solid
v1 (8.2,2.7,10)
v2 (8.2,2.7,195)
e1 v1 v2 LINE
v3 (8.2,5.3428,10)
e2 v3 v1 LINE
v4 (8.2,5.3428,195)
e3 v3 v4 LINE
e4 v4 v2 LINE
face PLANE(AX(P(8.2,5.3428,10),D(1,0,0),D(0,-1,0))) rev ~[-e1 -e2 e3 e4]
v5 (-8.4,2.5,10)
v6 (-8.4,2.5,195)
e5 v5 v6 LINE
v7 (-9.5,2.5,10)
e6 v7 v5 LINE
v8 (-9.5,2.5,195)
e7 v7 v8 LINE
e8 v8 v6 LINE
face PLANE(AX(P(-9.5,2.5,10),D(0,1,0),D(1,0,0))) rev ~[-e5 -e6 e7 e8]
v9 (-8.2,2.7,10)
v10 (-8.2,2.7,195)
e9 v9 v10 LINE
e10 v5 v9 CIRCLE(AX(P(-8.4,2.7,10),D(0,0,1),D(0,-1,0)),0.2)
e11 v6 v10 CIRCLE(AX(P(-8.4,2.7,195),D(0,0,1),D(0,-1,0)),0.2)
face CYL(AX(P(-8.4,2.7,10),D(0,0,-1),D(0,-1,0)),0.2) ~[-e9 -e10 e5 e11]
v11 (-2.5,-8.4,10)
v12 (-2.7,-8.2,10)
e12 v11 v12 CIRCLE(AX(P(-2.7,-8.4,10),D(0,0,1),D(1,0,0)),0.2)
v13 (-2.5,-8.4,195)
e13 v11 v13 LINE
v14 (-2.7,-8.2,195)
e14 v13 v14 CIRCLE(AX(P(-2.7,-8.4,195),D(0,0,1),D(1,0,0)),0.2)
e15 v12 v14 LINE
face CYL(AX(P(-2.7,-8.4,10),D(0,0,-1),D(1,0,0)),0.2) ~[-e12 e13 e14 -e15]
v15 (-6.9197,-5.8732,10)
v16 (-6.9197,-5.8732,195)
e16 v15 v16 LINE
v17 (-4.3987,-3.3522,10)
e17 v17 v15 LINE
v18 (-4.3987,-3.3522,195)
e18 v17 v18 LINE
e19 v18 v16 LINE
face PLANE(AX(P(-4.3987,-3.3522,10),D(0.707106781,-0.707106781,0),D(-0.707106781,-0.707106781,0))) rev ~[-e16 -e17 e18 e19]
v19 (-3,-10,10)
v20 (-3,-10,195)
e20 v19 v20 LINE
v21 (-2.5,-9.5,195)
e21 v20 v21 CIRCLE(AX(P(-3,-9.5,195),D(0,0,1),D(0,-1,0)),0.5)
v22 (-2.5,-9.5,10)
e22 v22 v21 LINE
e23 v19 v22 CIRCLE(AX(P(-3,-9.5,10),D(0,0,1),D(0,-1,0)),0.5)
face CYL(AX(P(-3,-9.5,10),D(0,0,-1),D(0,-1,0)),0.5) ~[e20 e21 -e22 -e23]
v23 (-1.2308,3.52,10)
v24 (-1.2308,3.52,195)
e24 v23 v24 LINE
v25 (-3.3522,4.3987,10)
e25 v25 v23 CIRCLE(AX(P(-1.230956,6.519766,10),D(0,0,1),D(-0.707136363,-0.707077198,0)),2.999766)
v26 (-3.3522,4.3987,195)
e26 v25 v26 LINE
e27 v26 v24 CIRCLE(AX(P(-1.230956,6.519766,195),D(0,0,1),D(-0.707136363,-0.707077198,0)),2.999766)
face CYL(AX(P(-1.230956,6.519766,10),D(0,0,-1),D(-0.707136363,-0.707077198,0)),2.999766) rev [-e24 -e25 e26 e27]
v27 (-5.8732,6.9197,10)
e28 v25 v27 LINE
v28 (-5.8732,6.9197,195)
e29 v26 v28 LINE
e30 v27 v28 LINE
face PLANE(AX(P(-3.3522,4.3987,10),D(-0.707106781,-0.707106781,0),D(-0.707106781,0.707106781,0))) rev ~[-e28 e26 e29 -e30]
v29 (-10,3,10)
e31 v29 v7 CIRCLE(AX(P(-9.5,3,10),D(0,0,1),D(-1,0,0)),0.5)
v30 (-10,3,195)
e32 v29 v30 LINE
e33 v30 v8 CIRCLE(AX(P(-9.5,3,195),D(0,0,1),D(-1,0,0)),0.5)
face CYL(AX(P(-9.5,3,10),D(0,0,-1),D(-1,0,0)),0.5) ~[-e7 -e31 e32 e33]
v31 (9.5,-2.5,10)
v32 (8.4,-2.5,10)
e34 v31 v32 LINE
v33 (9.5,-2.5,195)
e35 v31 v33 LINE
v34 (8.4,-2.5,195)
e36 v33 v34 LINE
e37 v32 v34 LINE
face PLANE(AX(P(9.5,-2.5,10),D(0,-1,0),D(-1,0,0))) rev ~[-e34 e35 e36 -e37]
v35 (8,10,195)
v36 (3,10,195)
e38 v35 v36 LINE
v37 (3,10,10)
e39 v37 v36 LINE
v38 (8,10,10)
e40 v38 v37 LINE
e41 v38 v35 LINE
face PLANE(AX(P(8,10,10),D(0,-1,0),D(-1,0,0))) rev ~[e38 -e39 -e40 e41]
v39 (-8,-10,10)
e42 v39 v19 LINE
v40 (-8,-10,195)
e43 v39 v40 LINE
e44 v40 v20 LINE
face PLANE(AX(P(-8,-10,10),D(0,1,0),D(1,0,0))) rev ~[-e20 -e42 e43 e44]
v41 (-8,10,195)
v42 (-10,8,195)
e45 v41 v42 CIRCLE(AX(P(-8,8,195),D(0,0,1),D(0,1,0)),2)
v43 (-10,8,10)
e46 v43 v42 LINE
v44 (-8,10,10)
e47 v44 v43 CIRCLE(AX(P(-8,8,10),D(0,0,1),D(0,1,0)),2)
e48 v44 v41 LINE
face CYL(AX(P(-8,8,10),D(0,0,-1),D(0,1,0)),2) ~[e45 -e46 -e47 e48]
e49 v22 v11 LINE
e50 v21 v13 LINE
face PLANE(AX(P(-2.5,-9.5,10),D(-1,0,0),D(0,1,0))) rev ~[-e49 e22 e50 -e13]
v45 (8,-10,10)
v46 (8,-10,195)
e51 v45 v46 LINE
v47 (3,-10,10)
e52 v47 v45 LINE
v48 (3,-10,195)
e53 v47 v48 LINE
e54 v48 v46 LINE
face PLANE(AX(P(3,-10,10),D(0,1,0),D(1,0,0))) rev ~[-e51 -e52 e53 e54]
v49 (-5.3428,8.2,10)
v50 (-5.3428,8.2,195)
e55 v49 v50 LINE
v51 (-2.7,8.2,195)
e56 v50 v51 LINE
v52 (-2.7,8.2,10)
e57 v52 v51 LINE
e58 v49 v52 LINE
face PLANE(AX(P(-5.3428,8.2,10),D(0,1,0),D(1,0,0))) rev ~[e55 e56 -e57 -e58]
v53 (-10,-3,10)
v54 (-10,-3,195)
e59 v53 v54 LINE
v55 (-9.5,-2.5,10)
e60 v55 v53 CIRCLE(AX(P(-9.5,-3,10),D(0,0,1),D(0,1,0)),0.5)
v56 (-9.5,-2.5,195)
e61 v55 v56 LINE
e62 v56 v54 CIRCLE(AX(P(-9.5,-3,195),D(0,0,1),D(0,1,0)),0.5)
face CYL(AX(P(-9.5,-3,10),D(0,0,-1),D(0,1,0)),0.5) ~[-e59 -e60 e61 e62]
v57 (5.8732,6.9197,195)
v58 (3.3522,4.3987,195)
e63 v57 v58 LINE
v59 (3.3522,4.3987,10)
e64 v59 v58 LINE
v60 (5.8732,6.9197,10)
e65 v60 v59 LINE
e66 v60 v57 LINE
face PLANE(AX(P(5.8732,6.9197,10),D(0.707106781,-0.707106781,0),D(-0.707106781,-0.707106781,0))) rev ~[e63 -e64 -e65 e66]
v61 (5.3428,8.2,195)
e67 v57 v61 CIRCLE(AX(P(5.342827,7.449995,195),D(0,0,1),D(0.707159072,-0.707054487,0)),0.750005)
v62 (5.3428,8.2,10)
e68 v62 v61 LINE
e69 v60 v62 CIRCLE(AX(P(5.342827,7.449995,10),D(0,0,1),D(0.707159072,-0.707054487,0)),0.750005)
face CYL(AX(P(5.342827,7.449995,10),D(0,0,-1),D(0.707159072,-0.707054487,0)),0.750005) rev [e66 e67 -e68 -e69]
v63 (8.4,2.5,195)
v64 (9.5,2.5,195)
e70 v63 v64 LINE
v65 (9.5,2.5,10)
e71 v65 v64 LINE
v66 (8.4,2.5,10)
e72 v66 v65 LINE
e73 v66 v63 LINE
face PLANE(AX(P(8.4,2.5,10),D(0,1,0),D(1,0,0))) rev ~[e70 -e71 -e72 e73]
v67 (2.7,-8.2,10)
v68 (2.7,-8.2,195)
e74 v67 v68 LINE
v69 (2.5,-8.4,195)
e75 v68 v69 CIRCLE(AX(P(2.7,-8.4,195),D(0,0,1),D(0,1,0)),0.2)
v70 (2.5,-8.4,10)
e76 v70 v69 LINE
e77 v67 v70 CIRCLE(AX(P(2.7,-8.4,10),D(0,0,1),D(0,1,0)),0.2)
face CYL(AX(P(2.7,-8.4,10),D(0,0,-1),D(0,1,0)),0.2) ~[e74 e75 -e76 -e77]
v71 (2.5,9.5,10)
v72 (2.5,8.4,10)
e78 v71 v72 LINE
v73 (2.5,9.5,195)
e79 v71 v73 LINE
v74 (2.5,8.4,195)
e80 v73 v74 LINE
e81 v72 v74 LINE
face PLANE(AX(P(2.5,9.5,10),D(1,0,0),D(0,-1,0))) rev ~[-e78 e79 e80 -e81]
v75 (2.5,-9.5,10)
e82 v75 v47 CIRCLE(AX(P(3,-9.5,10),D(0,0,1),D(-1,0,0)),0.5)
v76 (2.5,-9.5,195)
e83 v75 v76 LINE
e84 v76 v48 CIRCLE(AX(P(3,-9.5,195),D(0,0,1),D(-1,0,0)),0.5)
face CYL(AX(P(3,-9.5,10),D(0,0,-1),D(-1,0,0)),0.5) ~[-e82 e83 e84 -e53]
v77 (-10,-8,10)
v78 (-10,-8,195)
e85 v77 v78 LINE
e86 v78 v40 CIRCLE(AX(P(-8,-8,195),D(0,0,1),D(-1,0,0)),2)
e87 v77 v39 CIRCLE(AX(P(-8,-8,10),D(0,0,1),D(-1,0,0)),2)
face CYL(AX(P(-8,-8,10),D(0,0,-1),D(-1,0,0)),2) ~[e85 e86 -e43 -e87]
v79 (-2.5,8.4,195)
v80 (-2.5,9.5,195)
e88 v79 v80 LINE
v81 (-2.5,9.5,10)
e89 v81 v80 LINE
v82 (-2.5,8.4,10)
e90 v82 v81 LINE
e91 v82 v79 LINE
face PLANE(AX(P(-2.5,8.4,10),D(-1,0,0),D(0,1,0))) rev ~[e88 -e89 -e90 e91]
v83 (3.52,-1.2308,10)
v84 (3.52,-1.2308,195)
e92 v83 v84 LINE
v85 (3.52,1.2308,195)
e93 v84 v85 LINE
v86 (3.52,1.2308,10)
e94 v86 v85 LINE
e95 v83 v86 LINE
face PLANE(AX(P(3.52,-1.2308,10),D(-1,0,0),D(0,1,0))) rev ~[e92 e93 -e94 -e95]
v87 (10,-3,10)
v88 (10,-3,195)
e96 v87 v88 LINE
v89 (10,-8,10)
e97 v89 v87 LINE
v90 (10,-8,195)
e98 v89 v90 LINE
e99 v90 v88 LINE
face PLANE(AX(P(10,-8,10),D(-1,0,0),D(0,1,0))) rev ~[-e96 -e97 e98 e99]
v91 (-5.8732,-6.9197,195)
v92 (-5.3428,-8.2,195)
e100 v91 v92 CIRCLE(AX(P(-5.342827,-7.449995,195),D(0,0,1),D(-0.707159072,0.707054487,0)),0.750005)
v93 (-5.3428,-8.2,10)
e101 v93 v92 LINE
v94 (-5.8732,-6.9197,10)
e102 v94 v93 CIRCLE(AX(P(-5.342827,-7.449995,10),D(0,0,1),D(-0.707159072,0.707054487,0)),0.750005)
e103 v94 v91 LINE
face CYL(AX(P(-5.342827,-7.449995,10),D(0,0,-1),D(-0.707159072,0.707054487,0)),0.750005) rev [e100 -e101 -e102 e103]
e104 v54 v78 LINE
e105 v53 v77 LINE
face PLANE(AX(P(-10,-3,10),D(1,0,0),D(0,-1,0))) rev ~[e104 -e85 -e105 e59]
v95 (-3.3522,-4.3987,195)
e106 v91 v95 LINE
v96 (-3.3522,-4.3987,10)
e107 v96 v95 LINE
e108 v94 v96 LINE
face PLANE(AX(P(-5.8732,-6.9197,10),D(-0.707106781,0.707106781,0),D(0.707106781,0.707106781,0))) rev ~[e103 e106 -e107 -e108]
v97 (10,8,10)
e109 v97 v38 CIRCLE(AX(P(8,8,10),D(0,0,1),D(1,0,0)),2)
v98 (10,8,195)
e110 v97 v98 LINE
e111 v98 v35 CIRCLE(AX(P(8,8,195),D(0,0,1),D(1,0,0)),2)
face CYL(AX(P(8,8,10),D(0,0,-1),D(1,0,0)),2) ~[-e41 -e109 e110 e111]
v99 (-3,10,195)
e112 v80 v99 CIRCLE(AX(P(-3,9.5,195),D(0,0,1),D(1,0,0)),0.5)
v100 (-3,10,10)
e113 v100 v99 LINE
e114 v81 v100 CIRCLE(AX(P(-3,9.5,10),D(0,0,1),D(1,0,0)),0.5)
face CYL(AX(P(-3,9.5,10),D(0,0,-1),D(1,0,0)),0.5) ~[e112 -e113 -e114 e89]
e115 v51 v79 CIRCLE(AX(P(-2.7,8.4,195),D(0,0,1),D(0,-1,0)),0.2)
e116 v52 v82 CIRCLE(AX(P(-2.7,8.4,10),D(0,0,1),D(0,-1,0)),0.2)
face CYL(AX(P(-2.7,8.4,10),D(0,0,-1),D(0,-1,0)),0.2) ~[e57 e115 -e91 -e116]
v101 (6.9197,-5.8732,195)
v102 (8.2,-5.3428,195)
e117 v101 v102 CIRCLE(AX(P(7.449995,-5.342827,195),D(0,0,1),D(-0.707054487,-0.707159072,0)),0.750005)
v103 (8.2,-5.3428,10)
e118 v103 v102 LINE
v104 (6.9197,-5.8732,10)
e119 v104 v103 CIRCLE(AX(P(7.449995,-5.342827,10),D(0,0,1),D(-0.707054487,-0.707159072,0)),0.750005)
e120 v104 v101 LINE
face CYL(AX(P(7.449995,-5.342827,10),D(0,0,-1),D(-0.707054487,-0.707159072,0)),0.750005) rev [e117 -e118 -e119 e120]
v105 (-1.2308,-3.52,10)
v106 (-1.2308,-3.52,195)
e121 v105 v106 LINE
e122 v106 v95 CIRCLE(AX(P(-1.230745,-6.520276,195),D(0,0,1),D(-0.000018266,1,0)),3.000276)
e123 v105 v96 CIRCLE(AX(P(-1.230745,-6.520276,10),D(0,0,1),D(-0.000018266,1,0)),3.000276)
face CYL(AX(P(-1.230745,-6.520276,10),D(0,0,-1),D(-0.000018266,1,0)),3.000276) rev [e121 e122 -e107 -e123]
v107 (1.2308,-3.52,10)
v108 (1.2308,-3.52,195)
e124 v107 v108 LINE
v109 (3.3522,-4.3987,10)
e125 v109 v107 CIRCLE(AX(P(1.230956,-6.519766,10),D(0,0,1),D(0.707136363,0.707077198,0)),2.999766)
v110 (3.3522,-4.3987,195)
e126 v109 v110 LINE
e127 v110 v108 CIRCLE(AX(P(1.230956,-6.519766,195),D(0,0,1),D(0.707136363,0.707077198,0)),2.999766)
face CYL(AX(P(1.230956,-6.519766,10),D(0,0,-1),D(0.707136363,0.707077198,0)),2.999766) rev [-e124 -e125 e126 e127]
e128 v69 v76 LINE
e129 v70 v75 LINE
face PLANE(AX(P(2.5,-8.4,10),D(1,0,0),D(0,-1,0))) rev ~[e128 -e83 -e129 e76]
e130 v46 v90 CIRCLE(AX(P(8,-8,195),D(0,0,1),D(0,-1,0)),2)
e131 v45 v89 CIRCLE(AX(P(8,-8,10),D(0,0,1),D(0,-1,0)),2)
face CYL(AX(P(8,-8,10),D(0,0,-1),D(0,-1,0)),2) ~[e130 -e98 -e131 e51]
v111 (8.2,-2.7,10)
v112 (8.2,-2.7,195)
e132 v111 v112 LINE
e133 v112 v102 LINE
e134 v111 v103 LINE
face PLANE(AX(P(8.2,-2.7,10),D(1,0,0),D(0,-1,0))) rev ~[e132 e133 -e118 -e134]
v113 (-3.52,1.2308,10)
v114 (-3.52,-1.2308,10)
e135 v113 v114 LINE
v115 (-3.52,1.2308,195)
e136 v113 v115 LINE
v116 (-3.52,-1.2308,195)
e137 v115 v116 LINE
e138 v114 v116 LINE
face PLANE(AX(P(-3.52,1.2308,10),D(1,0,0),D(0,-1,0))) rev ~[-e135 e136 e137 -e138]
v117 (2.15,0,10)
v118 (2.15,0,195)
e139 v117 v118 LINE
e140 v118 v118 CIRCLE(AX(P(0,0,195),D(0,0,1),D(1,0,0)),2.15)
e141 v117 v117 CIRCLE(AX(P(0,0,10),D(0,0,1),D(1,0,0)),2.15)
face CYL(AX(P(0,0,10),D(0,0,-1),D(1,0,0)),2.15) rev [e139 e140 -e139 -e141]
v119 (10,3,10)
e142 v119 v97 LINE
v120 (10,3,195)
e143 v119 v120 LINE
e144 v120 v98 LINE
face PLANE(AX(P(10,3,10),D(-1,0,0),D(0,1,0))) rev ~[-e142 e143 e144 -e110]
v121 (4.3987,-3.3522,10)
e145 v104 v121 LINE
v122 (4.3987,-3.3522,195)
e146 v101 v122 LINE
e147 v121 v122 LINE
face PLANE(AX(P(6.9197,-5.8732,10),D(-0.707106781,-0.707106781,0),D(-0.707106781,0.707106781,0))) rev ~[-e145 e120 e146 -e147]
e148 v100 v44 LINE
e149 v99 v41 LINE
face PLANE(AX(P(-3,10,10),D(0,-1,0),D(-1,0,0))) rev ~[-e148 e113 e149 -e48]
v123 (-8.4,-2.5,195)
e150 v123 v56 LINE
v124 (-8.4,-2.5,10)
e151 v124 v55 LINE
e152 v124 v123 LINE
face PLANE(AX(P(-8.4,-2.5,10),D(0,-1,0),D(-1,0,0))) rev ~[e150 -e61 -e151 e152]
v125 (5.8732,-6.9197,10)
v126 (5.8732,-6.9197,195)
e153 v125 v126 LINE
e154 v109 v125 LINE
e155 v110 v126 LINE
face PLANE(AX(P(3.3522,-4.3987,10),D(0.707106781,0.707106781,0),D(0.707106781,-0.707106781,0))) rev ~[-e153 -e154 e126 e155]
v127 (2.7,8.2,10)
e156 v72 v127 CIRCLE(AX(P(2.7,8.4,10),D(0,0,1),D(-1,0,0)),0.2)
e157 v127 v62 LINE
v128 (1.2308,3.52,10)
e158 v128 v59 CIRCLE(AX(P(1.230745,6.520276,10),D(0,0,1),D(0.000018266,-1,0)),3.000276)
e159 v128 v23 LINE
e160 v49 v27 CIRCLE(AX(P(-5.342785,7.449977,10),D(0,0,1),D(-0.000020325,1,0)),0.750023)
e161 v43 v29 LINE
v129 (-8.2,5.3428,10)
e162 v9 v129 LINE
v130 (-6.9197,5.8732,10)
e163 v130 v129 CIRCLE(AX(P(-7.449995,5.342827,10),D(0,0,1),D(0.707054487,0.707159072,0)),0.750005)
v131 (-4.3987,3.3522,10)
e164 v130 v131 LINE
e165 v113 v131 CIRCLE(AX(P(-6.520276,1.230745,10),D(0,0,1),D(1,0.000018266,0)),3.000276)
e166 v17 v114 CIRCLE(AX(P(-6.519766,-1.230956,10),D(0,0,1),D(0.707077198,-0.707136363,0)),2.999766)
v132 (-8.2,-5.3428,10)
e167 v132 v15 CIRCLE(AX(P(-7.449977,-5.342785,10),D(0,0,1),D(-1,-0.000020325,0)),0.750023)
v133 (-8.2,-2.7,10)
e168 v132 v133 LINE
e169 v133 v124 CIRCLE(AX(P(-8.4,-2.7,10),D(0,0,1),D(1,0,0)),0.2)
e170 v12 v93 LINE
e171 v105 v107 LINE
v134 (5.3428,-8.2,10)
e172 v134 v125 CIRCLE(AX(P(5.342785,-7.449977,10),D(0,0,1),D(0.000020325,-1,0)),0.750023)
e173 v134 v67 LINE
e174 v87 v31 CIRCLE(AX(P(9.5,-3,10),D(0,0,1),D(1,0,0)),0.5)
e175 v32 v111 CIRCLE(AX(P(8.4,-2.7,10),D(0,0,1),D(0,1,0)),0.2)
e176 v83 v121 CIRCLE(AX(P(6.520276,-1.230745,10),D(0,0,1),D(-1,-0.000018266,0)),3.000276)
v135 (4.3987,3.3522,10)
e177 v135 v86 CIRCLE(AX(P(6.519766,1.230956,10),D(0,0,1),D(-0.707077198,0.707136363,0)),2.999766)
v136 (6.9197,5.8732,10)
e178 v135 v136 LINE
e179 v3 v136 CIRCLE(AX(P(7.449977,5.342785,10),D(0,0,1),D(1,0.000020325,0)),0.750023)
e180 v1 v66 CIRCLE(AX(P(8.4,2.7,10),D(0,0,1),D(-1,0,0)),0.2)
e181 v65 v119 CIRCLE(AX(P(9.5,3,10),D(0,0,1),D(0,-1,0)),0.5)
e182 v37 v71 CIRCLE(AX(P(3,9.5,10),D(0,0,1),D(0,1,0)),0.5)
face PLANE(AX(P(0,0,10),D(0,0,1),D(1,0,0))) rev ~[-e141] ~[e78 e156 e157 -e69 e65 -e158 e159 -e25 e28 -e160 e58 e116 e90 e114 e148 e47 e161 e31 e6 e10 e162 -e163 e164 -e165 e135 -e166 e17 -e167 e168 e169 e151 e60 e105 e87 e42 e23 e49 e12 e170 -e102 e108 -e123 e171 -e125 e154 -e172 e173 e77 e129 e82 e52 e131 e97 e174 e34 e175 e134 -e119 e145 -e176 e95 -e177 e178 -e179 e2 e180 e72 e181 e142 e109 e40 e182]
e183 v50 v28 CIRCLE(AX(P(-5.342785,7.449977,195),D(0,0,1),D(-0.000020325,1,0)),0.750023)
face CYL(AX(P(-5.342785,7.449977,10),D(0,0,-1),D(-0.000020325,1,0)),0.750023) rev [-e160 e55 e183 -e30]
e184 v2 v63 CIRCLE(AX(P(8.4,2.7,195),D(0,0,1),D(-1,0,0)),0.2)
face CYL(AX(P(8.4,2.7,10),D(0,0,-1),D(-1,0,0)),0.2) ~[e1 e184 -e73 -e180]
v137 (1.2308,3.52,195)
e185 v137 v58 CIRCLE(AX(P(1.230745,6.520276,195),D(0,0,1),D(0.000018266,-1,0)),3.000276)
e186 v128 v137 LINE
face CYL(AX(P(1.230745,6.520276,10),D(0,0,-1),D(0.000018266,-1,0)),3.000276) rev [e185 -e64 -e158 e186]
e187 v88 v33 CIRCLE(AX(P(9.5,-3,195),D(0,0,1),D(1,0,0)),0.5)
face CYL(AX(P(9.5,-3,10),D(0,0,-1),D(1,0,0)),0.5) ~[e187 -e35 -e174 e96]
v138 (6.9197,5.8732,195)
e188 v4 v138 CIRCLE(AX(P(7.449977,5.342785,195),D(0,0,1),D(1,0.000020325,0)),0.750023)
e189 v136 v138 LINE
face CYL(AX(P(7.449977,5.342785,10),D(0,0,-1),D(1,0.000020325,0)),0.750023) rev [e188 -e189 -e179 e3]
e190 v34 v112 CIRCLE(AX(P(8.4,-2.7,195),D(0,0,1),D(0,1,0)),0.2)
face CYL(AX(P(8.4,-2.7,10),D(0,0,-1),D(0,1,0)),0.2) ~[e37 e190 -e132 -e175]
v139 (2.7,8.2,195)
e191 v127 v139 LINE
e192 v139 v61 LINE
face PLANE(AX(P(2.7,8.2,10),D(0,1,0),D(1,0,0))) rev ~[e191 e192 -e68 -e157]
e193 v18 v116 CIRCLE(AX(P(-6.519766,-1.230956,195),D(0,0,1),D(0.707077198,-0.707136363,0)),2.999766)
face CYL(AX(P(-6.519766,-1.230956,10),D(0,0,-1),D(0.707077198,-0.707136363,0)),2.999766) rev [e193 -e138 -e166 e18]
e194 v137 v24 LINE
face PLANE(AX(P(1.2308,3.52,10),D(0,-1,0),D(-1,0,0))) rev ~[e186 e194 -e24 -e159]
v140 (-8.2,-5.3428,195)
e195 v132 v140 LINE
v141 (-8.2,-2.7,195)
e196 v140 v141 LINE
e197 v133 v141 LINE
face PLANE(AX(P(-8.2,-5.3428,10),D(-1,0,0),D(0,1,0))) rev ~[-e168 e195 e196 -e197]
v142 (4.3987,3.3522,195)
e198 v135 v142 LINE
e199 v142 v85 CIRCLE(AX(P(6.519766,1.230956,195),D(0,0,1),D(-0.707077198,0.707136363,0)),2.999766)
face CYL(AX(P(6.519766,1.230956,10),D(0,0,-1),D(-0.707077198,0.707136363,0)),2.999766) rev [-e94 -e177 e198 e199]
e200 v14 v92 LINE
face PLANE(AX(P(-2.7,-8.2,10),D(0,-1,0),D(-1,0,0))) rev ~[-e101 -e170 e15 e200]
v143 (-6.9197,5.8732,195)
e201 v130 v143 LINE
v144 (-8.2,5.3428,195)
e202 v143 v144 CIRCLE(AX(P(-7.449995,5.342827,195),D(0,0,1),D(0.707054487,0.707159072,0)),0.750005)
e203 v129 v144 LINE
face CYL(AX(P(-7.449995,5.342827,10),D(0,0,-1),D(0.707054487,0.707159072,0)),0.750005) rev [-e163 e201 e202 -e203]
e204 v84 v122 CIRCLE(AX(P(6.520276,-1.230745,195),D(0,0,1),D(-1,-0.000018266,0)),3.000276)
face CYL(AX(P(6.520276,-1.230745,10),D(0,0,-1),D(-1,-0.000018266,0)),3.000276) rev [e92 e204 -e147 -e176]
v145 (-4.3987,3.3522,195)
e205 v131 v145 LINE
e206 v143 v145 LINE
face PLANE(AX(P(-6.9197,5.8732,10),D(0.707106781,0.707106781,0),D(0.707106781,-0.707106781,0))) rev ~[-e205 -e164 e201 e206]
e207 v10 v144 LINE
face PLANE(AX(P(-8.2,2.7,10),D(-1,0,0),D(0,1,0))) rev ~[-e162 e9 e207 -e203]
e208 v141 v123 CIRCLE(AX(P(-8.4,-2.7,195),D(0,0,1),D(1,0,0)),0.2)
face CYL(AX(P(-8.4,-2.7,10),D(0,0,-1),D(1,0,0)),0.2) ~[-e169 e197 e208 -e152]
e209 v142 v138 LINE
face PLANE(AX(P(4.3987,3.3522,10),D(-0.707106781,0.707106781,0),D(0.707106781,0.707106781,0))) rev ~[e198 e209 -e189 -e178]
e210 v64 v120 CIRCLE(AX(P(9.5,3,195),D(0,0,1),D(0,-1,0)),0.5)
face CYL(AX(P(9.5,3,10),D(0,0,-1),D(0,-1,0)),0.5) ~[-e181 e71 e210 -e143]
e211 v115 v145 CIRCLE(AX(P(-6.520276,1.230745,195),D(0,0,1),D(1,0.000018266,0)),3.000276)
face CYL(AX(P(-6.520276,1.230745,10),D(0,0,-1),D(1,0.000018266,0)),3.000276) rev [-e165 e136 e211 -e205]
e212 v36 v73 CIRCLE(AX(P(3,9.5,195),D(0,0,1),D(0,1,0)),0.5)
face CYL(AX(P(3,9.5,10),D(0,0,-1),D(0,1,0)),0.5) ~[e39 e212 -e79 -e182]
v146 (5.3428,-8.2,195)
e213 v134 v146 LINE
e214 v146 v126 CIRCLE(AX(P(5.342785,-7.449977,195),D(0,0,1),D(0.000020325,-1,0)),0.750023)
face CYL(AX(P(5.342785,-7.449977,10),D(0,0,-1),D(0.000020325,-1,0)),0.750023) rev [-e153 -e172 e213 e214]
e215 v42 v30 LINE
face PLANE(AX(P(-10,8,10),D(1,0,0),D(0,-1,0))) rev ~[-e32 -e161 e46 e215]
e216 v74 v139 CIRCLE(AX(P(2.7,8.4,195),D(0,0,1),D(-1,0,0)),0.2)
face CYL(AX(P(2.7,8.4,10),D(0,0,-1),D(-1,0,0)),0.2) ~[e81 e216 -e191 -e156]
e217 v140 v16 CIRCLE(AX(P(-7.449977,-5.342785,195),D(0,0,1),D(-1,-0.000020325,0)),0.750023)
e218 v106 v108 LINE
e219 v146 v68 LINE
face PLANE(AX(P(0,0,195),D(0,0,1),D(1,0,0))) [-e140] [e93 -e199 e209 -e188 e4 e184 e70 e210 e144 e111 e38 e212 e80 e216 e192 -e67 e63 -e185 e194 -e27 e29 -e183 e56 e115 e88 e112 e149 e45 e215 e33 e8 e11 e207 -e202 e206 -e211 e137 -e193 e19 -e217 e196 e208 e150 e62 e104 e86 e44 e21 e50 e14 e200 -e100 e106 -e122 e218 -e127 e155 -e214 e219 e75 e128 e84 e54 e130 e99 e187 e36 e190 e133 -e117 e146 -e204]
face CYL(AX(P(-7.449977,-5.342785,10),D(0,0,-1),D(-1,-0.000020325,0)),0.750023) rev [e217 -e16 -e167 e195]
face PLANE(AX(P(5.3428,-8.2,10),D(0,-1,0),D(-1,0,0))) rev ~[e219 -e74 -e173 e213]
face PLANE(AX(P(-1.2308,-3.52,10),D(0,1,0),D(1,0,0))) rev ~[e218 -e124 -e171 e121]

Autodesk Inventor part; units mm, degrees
ref_plane "Płaszczyzna początkowa" through (0, 0, 10) normal (0, 0, 1) x (1, 0, 0)
ref_plane "Płaszczyzna końcowa" through (0, 0, 195) normal (0, 0, 1) x (1, 0, 0)
sketch "Szkic" plane through (0, 0, 0) normal (0, 0, 1) x (1, 0, 0)
  arc A0 (8, -10) -> (10, -8) centre (8, -8) ccw
  line L0 (10, -8) -> (10, -3)
  arc A1 (10, -3) -> (9.5, -2.5) centre (9.5, -3) ccw
  line L1 (9.5, -2.5) -> (8.4, -2.5)
  arc A2 (8.4, -2.5) -> (8.2, -2.7) centre (8.4, -2.7) ccw
  line L2 (8.2, -2.7) -> (8.2, -5.3428)
  arc A3 (6.9197, -5.8732) -> (8.2, -5.3428) centre (7.45, -5.3428) ccw
  line L3 (6.9197, -5.8732) -> (4.3987, -3.3522)
  arc A4 (3.52, -1.2308) -> (4.3987, -3.3522) centre (6.52, -1.2308) ccw
  line L4 (3.52, -1.2308) -> (3.52, 1.2308)
  arc A5 (4.3987, 3.3522) -> (3.52, 1.2308) centre (6.52, 1.2308) ccw
  line L5 (4.3987, 3.3522) -> (6.9197, 5.8732)
  arc A6 (8.2, 5.3428) -> (6.9197, 5.8732) centre (7.45, 5.3428) ccw
  line L6 (8.2, 5.3428) -> (8.2, 2.7)
  arc A7 (8.2, 2.7) -> (8.4, 2.5) centre (8.4, 2.7) ccw
  line L7 (8.4, 2.5) -> (9.5, 2.5)
  arc A8 (9.5, 2.5) -> (10, 3) centre (9.5, 3) ccw
  line L8 (10, 3) -> (10, 8)
  arc A9 (10, 8) -> (8, 10) centre (8, 8) ccw
  line L9 (8, 10) -> (3, 10)
  arc A10 (3, 10) -> (2.5, 9.5) centre (3, 9.5) ccw
  line L10 (2.5, 9.5) -> (2.5, 8.4)
  arc A11 (2.5, 8.4) -> (2.7, 8.2) centre (2.7, 8.4) ccw
  line L11 (2.7, 8.2) -> (5.3428, 8.2)
  arc A12 (5.8732, 6.9197) -> (5.3428, 8.2) centre (5.3428, 7.45) ccw
  line L12 (5.8732, 6.9197) -> (3.3522, 4.3987)
  arc A13 (1.2308, 3.52) -> (3.3522, 4.3987) centre (1.2308, 6.52) ccw
  line L13 (1.2308, 3.52) -> (-1.2308, 3.52)
  arc A14 (-3.3522, 4.3987) -> (-1.2308, 3.52) centre (-1.2308, 6.52) ccw
  line L14 (-3.3522, 4.3987) -> (-5.8732, 6.9197)
  arc A15 (-5.3428, 8.2) -> (-5.8732, 6.9197) centre (-5.3428, 7.45) ccw
  line L15 (-5.3428, 8.2) -> (-2.7, 8.2)
  arc A16 (-2.7, 8.2) -> (-2.5, 8.4) centre (-2.7, 8.4) ccw
  line L16 (-2.5, 8.4) -> (-2.5, 9.5)
  arc A17 (-2.5, 9.5) -> (-3, 10) centre (-3, 9.5) ccw
  line L17 (-3, 10) -> (-8, 10)
  arc A18 (-8, 10) -> (-10, 8) centre (-8, 8) ccw
  line L18 (-10, 8) -> (-10, 3)
  arc A19 (-10, 3) -> (-9.5, 2.5) centre (-9.5, 3) ccw
  line L19 (-9.5, 2.5) -> (-8.4, 2.5)
  arc A20 (-8.4, 2.5) -> (-8.2, 2.7) centre (-8.4, 2.7) ccw
  line L20 (-8.2, 2.7) -> (-8.2, 5.3428)
  arc A21 (-6.9197, 5.8732) -> (-8.2, 5.3428) centre (-7.45, 5.3428) ccw
  line L21 (-6.9197, 5.8732) -> (-4.3987, 3.3522)
  arc A22 (-3.52, 1.2308) -> (-4.3987, 3.3522) centre (-6.52, 1.2308) ccw
  line L22 (-3.52, 1.2308) -> (-3.52, -1.2308)
  arc A23 (-4.3987, -3.3522) -> (-3.52, -1.2308) centre (-6.52, -1.2308) ccw
  line L23 (-4.3987, -3.3522) -> (-6.9197, -5.8732)
  arc A24 (-8.2, -5.3428) -> (-6.9197, -5.8732) centre (-7.45, -5.3428) ccw
  line L24 (-8.2, -5.3428) -> (-8.2, -2.7)
  arc A25 (-8.2, -2.7) -> (-8.4, -2.5) centre (-8.4, -2.7) ccw
  line L25 (-8.4, -2.5) -> (-9.5, -2.5)
  arc A26 (-9.5, -2.5) -> (-10, -3) centre (-9.5, -3) ccw
  line L26 (-10, -3) -> (-10, -8)
  arc A27 (-10, -8) -> (-8, -10) centre (-8, -8) ccw
  line L27 (-8, -10) -> (-3, -10)
  arc A28 (-3, -10) -> (-2.5, -9.5) centre (-3, -9.5) ccw
  line L28 (-2.5, -9.5) -> (-2.5, -8.4)
  arc A29 (-2.5, -8.4) -> (-2.7, -8.2) centre (-2.7, -8.4) ccw
  line L29 (-2.7, -8.2) -> (-5.3428, -8.2)
  arc A30 (-5.8732, -6.9197) -> (-5.3428, -8.2) centre (-5.3428, -7.45) ccw
  line L30 (-5.8732, -6.9197) -> (-3.3522, -4.3987)
  arc A31 (-1.2308, -3.52) -> (-3.3522, -4.3987) centre (-1.2308, -6.52) ccw
  line L31 (-1.2308, -3.52) -> (1.2308, -3.52)
  arc A32 (3.3522, -4.3987) -> (1.2308, -3.52) centre (1.2308, -6.52) ccw
  line L32 (3.3522, -4.3987) -> (5.8732, -6.9197)
  arc A33 (5.3428, -8.2) -> (5.8732, -6.9197) centre (5.3428, -7.45) ccw
  line L33 (5.3428, -8.2) -> (2.7, -8.2)
  arc A34 (2.7, -8.2) -> (2.5, -8.4) centre (2.7, -8.4) ccw
  line L34 (2.5, -8.4) -> (2.5, -9.5)
  arc A35 (2.5, -9.5) -> (3, -10) centre (3, -9.5) ccw
  line L35 (3, -10) -> (8, -10)
  circle A36 centre (0, 0) radius 2.15
  point P0 (10, -10)
extrude "Bryła" add sketch "Szkic" along normal up to surface (185 mm away) from surface at 10
sketch "Szkic4" plane through (0, 0, 0) normal (0, 0, 1) x (1, 0, 0)
  line L0 (0, 0) -> (10, 0)
ref_plane "Płaszczyzna konstrukcyjna4" through (0, 0, 0) normal (0, -1, 0) x (1, 0, 0)
sketch "Szkic5" plane through (0, 0, 0) normal (0, -1, 0) x (1, 0, 0)
  line L0 (-2, 10) -> (12, 10)
  line L1 (-2, 195) -> (12, 195)
  dimension "d7" = 185
ref_plane "Płaszczyzna konstrukcyjna5" through (-225, 8, 10) normal (0, 0, -1) x (-1, 0, 0)
split "Podział1" plane through (-225, 8, 10) removes the side toward (0, 0, -1)
ref_plane "Płaszczyzna konstrukcyjna6" through (230, 8, 195) normal (0, 0, 1) x (1, 0, 0)
split "Podział2" plane through (230, 8, 195) removes the side toward (0, 0, 1)
equation "\"d3\" = Length + G_OFFSET_END"
equation "\"G_L\" = d7"
equation "\"Length\" = 215"
equation "\"G_OFFSET_END\" = -20"
properties part number "COTS_ARMA_AR3701_20x20_Alu_Extr_00000011" material "Aluminium 6061-AHC"
